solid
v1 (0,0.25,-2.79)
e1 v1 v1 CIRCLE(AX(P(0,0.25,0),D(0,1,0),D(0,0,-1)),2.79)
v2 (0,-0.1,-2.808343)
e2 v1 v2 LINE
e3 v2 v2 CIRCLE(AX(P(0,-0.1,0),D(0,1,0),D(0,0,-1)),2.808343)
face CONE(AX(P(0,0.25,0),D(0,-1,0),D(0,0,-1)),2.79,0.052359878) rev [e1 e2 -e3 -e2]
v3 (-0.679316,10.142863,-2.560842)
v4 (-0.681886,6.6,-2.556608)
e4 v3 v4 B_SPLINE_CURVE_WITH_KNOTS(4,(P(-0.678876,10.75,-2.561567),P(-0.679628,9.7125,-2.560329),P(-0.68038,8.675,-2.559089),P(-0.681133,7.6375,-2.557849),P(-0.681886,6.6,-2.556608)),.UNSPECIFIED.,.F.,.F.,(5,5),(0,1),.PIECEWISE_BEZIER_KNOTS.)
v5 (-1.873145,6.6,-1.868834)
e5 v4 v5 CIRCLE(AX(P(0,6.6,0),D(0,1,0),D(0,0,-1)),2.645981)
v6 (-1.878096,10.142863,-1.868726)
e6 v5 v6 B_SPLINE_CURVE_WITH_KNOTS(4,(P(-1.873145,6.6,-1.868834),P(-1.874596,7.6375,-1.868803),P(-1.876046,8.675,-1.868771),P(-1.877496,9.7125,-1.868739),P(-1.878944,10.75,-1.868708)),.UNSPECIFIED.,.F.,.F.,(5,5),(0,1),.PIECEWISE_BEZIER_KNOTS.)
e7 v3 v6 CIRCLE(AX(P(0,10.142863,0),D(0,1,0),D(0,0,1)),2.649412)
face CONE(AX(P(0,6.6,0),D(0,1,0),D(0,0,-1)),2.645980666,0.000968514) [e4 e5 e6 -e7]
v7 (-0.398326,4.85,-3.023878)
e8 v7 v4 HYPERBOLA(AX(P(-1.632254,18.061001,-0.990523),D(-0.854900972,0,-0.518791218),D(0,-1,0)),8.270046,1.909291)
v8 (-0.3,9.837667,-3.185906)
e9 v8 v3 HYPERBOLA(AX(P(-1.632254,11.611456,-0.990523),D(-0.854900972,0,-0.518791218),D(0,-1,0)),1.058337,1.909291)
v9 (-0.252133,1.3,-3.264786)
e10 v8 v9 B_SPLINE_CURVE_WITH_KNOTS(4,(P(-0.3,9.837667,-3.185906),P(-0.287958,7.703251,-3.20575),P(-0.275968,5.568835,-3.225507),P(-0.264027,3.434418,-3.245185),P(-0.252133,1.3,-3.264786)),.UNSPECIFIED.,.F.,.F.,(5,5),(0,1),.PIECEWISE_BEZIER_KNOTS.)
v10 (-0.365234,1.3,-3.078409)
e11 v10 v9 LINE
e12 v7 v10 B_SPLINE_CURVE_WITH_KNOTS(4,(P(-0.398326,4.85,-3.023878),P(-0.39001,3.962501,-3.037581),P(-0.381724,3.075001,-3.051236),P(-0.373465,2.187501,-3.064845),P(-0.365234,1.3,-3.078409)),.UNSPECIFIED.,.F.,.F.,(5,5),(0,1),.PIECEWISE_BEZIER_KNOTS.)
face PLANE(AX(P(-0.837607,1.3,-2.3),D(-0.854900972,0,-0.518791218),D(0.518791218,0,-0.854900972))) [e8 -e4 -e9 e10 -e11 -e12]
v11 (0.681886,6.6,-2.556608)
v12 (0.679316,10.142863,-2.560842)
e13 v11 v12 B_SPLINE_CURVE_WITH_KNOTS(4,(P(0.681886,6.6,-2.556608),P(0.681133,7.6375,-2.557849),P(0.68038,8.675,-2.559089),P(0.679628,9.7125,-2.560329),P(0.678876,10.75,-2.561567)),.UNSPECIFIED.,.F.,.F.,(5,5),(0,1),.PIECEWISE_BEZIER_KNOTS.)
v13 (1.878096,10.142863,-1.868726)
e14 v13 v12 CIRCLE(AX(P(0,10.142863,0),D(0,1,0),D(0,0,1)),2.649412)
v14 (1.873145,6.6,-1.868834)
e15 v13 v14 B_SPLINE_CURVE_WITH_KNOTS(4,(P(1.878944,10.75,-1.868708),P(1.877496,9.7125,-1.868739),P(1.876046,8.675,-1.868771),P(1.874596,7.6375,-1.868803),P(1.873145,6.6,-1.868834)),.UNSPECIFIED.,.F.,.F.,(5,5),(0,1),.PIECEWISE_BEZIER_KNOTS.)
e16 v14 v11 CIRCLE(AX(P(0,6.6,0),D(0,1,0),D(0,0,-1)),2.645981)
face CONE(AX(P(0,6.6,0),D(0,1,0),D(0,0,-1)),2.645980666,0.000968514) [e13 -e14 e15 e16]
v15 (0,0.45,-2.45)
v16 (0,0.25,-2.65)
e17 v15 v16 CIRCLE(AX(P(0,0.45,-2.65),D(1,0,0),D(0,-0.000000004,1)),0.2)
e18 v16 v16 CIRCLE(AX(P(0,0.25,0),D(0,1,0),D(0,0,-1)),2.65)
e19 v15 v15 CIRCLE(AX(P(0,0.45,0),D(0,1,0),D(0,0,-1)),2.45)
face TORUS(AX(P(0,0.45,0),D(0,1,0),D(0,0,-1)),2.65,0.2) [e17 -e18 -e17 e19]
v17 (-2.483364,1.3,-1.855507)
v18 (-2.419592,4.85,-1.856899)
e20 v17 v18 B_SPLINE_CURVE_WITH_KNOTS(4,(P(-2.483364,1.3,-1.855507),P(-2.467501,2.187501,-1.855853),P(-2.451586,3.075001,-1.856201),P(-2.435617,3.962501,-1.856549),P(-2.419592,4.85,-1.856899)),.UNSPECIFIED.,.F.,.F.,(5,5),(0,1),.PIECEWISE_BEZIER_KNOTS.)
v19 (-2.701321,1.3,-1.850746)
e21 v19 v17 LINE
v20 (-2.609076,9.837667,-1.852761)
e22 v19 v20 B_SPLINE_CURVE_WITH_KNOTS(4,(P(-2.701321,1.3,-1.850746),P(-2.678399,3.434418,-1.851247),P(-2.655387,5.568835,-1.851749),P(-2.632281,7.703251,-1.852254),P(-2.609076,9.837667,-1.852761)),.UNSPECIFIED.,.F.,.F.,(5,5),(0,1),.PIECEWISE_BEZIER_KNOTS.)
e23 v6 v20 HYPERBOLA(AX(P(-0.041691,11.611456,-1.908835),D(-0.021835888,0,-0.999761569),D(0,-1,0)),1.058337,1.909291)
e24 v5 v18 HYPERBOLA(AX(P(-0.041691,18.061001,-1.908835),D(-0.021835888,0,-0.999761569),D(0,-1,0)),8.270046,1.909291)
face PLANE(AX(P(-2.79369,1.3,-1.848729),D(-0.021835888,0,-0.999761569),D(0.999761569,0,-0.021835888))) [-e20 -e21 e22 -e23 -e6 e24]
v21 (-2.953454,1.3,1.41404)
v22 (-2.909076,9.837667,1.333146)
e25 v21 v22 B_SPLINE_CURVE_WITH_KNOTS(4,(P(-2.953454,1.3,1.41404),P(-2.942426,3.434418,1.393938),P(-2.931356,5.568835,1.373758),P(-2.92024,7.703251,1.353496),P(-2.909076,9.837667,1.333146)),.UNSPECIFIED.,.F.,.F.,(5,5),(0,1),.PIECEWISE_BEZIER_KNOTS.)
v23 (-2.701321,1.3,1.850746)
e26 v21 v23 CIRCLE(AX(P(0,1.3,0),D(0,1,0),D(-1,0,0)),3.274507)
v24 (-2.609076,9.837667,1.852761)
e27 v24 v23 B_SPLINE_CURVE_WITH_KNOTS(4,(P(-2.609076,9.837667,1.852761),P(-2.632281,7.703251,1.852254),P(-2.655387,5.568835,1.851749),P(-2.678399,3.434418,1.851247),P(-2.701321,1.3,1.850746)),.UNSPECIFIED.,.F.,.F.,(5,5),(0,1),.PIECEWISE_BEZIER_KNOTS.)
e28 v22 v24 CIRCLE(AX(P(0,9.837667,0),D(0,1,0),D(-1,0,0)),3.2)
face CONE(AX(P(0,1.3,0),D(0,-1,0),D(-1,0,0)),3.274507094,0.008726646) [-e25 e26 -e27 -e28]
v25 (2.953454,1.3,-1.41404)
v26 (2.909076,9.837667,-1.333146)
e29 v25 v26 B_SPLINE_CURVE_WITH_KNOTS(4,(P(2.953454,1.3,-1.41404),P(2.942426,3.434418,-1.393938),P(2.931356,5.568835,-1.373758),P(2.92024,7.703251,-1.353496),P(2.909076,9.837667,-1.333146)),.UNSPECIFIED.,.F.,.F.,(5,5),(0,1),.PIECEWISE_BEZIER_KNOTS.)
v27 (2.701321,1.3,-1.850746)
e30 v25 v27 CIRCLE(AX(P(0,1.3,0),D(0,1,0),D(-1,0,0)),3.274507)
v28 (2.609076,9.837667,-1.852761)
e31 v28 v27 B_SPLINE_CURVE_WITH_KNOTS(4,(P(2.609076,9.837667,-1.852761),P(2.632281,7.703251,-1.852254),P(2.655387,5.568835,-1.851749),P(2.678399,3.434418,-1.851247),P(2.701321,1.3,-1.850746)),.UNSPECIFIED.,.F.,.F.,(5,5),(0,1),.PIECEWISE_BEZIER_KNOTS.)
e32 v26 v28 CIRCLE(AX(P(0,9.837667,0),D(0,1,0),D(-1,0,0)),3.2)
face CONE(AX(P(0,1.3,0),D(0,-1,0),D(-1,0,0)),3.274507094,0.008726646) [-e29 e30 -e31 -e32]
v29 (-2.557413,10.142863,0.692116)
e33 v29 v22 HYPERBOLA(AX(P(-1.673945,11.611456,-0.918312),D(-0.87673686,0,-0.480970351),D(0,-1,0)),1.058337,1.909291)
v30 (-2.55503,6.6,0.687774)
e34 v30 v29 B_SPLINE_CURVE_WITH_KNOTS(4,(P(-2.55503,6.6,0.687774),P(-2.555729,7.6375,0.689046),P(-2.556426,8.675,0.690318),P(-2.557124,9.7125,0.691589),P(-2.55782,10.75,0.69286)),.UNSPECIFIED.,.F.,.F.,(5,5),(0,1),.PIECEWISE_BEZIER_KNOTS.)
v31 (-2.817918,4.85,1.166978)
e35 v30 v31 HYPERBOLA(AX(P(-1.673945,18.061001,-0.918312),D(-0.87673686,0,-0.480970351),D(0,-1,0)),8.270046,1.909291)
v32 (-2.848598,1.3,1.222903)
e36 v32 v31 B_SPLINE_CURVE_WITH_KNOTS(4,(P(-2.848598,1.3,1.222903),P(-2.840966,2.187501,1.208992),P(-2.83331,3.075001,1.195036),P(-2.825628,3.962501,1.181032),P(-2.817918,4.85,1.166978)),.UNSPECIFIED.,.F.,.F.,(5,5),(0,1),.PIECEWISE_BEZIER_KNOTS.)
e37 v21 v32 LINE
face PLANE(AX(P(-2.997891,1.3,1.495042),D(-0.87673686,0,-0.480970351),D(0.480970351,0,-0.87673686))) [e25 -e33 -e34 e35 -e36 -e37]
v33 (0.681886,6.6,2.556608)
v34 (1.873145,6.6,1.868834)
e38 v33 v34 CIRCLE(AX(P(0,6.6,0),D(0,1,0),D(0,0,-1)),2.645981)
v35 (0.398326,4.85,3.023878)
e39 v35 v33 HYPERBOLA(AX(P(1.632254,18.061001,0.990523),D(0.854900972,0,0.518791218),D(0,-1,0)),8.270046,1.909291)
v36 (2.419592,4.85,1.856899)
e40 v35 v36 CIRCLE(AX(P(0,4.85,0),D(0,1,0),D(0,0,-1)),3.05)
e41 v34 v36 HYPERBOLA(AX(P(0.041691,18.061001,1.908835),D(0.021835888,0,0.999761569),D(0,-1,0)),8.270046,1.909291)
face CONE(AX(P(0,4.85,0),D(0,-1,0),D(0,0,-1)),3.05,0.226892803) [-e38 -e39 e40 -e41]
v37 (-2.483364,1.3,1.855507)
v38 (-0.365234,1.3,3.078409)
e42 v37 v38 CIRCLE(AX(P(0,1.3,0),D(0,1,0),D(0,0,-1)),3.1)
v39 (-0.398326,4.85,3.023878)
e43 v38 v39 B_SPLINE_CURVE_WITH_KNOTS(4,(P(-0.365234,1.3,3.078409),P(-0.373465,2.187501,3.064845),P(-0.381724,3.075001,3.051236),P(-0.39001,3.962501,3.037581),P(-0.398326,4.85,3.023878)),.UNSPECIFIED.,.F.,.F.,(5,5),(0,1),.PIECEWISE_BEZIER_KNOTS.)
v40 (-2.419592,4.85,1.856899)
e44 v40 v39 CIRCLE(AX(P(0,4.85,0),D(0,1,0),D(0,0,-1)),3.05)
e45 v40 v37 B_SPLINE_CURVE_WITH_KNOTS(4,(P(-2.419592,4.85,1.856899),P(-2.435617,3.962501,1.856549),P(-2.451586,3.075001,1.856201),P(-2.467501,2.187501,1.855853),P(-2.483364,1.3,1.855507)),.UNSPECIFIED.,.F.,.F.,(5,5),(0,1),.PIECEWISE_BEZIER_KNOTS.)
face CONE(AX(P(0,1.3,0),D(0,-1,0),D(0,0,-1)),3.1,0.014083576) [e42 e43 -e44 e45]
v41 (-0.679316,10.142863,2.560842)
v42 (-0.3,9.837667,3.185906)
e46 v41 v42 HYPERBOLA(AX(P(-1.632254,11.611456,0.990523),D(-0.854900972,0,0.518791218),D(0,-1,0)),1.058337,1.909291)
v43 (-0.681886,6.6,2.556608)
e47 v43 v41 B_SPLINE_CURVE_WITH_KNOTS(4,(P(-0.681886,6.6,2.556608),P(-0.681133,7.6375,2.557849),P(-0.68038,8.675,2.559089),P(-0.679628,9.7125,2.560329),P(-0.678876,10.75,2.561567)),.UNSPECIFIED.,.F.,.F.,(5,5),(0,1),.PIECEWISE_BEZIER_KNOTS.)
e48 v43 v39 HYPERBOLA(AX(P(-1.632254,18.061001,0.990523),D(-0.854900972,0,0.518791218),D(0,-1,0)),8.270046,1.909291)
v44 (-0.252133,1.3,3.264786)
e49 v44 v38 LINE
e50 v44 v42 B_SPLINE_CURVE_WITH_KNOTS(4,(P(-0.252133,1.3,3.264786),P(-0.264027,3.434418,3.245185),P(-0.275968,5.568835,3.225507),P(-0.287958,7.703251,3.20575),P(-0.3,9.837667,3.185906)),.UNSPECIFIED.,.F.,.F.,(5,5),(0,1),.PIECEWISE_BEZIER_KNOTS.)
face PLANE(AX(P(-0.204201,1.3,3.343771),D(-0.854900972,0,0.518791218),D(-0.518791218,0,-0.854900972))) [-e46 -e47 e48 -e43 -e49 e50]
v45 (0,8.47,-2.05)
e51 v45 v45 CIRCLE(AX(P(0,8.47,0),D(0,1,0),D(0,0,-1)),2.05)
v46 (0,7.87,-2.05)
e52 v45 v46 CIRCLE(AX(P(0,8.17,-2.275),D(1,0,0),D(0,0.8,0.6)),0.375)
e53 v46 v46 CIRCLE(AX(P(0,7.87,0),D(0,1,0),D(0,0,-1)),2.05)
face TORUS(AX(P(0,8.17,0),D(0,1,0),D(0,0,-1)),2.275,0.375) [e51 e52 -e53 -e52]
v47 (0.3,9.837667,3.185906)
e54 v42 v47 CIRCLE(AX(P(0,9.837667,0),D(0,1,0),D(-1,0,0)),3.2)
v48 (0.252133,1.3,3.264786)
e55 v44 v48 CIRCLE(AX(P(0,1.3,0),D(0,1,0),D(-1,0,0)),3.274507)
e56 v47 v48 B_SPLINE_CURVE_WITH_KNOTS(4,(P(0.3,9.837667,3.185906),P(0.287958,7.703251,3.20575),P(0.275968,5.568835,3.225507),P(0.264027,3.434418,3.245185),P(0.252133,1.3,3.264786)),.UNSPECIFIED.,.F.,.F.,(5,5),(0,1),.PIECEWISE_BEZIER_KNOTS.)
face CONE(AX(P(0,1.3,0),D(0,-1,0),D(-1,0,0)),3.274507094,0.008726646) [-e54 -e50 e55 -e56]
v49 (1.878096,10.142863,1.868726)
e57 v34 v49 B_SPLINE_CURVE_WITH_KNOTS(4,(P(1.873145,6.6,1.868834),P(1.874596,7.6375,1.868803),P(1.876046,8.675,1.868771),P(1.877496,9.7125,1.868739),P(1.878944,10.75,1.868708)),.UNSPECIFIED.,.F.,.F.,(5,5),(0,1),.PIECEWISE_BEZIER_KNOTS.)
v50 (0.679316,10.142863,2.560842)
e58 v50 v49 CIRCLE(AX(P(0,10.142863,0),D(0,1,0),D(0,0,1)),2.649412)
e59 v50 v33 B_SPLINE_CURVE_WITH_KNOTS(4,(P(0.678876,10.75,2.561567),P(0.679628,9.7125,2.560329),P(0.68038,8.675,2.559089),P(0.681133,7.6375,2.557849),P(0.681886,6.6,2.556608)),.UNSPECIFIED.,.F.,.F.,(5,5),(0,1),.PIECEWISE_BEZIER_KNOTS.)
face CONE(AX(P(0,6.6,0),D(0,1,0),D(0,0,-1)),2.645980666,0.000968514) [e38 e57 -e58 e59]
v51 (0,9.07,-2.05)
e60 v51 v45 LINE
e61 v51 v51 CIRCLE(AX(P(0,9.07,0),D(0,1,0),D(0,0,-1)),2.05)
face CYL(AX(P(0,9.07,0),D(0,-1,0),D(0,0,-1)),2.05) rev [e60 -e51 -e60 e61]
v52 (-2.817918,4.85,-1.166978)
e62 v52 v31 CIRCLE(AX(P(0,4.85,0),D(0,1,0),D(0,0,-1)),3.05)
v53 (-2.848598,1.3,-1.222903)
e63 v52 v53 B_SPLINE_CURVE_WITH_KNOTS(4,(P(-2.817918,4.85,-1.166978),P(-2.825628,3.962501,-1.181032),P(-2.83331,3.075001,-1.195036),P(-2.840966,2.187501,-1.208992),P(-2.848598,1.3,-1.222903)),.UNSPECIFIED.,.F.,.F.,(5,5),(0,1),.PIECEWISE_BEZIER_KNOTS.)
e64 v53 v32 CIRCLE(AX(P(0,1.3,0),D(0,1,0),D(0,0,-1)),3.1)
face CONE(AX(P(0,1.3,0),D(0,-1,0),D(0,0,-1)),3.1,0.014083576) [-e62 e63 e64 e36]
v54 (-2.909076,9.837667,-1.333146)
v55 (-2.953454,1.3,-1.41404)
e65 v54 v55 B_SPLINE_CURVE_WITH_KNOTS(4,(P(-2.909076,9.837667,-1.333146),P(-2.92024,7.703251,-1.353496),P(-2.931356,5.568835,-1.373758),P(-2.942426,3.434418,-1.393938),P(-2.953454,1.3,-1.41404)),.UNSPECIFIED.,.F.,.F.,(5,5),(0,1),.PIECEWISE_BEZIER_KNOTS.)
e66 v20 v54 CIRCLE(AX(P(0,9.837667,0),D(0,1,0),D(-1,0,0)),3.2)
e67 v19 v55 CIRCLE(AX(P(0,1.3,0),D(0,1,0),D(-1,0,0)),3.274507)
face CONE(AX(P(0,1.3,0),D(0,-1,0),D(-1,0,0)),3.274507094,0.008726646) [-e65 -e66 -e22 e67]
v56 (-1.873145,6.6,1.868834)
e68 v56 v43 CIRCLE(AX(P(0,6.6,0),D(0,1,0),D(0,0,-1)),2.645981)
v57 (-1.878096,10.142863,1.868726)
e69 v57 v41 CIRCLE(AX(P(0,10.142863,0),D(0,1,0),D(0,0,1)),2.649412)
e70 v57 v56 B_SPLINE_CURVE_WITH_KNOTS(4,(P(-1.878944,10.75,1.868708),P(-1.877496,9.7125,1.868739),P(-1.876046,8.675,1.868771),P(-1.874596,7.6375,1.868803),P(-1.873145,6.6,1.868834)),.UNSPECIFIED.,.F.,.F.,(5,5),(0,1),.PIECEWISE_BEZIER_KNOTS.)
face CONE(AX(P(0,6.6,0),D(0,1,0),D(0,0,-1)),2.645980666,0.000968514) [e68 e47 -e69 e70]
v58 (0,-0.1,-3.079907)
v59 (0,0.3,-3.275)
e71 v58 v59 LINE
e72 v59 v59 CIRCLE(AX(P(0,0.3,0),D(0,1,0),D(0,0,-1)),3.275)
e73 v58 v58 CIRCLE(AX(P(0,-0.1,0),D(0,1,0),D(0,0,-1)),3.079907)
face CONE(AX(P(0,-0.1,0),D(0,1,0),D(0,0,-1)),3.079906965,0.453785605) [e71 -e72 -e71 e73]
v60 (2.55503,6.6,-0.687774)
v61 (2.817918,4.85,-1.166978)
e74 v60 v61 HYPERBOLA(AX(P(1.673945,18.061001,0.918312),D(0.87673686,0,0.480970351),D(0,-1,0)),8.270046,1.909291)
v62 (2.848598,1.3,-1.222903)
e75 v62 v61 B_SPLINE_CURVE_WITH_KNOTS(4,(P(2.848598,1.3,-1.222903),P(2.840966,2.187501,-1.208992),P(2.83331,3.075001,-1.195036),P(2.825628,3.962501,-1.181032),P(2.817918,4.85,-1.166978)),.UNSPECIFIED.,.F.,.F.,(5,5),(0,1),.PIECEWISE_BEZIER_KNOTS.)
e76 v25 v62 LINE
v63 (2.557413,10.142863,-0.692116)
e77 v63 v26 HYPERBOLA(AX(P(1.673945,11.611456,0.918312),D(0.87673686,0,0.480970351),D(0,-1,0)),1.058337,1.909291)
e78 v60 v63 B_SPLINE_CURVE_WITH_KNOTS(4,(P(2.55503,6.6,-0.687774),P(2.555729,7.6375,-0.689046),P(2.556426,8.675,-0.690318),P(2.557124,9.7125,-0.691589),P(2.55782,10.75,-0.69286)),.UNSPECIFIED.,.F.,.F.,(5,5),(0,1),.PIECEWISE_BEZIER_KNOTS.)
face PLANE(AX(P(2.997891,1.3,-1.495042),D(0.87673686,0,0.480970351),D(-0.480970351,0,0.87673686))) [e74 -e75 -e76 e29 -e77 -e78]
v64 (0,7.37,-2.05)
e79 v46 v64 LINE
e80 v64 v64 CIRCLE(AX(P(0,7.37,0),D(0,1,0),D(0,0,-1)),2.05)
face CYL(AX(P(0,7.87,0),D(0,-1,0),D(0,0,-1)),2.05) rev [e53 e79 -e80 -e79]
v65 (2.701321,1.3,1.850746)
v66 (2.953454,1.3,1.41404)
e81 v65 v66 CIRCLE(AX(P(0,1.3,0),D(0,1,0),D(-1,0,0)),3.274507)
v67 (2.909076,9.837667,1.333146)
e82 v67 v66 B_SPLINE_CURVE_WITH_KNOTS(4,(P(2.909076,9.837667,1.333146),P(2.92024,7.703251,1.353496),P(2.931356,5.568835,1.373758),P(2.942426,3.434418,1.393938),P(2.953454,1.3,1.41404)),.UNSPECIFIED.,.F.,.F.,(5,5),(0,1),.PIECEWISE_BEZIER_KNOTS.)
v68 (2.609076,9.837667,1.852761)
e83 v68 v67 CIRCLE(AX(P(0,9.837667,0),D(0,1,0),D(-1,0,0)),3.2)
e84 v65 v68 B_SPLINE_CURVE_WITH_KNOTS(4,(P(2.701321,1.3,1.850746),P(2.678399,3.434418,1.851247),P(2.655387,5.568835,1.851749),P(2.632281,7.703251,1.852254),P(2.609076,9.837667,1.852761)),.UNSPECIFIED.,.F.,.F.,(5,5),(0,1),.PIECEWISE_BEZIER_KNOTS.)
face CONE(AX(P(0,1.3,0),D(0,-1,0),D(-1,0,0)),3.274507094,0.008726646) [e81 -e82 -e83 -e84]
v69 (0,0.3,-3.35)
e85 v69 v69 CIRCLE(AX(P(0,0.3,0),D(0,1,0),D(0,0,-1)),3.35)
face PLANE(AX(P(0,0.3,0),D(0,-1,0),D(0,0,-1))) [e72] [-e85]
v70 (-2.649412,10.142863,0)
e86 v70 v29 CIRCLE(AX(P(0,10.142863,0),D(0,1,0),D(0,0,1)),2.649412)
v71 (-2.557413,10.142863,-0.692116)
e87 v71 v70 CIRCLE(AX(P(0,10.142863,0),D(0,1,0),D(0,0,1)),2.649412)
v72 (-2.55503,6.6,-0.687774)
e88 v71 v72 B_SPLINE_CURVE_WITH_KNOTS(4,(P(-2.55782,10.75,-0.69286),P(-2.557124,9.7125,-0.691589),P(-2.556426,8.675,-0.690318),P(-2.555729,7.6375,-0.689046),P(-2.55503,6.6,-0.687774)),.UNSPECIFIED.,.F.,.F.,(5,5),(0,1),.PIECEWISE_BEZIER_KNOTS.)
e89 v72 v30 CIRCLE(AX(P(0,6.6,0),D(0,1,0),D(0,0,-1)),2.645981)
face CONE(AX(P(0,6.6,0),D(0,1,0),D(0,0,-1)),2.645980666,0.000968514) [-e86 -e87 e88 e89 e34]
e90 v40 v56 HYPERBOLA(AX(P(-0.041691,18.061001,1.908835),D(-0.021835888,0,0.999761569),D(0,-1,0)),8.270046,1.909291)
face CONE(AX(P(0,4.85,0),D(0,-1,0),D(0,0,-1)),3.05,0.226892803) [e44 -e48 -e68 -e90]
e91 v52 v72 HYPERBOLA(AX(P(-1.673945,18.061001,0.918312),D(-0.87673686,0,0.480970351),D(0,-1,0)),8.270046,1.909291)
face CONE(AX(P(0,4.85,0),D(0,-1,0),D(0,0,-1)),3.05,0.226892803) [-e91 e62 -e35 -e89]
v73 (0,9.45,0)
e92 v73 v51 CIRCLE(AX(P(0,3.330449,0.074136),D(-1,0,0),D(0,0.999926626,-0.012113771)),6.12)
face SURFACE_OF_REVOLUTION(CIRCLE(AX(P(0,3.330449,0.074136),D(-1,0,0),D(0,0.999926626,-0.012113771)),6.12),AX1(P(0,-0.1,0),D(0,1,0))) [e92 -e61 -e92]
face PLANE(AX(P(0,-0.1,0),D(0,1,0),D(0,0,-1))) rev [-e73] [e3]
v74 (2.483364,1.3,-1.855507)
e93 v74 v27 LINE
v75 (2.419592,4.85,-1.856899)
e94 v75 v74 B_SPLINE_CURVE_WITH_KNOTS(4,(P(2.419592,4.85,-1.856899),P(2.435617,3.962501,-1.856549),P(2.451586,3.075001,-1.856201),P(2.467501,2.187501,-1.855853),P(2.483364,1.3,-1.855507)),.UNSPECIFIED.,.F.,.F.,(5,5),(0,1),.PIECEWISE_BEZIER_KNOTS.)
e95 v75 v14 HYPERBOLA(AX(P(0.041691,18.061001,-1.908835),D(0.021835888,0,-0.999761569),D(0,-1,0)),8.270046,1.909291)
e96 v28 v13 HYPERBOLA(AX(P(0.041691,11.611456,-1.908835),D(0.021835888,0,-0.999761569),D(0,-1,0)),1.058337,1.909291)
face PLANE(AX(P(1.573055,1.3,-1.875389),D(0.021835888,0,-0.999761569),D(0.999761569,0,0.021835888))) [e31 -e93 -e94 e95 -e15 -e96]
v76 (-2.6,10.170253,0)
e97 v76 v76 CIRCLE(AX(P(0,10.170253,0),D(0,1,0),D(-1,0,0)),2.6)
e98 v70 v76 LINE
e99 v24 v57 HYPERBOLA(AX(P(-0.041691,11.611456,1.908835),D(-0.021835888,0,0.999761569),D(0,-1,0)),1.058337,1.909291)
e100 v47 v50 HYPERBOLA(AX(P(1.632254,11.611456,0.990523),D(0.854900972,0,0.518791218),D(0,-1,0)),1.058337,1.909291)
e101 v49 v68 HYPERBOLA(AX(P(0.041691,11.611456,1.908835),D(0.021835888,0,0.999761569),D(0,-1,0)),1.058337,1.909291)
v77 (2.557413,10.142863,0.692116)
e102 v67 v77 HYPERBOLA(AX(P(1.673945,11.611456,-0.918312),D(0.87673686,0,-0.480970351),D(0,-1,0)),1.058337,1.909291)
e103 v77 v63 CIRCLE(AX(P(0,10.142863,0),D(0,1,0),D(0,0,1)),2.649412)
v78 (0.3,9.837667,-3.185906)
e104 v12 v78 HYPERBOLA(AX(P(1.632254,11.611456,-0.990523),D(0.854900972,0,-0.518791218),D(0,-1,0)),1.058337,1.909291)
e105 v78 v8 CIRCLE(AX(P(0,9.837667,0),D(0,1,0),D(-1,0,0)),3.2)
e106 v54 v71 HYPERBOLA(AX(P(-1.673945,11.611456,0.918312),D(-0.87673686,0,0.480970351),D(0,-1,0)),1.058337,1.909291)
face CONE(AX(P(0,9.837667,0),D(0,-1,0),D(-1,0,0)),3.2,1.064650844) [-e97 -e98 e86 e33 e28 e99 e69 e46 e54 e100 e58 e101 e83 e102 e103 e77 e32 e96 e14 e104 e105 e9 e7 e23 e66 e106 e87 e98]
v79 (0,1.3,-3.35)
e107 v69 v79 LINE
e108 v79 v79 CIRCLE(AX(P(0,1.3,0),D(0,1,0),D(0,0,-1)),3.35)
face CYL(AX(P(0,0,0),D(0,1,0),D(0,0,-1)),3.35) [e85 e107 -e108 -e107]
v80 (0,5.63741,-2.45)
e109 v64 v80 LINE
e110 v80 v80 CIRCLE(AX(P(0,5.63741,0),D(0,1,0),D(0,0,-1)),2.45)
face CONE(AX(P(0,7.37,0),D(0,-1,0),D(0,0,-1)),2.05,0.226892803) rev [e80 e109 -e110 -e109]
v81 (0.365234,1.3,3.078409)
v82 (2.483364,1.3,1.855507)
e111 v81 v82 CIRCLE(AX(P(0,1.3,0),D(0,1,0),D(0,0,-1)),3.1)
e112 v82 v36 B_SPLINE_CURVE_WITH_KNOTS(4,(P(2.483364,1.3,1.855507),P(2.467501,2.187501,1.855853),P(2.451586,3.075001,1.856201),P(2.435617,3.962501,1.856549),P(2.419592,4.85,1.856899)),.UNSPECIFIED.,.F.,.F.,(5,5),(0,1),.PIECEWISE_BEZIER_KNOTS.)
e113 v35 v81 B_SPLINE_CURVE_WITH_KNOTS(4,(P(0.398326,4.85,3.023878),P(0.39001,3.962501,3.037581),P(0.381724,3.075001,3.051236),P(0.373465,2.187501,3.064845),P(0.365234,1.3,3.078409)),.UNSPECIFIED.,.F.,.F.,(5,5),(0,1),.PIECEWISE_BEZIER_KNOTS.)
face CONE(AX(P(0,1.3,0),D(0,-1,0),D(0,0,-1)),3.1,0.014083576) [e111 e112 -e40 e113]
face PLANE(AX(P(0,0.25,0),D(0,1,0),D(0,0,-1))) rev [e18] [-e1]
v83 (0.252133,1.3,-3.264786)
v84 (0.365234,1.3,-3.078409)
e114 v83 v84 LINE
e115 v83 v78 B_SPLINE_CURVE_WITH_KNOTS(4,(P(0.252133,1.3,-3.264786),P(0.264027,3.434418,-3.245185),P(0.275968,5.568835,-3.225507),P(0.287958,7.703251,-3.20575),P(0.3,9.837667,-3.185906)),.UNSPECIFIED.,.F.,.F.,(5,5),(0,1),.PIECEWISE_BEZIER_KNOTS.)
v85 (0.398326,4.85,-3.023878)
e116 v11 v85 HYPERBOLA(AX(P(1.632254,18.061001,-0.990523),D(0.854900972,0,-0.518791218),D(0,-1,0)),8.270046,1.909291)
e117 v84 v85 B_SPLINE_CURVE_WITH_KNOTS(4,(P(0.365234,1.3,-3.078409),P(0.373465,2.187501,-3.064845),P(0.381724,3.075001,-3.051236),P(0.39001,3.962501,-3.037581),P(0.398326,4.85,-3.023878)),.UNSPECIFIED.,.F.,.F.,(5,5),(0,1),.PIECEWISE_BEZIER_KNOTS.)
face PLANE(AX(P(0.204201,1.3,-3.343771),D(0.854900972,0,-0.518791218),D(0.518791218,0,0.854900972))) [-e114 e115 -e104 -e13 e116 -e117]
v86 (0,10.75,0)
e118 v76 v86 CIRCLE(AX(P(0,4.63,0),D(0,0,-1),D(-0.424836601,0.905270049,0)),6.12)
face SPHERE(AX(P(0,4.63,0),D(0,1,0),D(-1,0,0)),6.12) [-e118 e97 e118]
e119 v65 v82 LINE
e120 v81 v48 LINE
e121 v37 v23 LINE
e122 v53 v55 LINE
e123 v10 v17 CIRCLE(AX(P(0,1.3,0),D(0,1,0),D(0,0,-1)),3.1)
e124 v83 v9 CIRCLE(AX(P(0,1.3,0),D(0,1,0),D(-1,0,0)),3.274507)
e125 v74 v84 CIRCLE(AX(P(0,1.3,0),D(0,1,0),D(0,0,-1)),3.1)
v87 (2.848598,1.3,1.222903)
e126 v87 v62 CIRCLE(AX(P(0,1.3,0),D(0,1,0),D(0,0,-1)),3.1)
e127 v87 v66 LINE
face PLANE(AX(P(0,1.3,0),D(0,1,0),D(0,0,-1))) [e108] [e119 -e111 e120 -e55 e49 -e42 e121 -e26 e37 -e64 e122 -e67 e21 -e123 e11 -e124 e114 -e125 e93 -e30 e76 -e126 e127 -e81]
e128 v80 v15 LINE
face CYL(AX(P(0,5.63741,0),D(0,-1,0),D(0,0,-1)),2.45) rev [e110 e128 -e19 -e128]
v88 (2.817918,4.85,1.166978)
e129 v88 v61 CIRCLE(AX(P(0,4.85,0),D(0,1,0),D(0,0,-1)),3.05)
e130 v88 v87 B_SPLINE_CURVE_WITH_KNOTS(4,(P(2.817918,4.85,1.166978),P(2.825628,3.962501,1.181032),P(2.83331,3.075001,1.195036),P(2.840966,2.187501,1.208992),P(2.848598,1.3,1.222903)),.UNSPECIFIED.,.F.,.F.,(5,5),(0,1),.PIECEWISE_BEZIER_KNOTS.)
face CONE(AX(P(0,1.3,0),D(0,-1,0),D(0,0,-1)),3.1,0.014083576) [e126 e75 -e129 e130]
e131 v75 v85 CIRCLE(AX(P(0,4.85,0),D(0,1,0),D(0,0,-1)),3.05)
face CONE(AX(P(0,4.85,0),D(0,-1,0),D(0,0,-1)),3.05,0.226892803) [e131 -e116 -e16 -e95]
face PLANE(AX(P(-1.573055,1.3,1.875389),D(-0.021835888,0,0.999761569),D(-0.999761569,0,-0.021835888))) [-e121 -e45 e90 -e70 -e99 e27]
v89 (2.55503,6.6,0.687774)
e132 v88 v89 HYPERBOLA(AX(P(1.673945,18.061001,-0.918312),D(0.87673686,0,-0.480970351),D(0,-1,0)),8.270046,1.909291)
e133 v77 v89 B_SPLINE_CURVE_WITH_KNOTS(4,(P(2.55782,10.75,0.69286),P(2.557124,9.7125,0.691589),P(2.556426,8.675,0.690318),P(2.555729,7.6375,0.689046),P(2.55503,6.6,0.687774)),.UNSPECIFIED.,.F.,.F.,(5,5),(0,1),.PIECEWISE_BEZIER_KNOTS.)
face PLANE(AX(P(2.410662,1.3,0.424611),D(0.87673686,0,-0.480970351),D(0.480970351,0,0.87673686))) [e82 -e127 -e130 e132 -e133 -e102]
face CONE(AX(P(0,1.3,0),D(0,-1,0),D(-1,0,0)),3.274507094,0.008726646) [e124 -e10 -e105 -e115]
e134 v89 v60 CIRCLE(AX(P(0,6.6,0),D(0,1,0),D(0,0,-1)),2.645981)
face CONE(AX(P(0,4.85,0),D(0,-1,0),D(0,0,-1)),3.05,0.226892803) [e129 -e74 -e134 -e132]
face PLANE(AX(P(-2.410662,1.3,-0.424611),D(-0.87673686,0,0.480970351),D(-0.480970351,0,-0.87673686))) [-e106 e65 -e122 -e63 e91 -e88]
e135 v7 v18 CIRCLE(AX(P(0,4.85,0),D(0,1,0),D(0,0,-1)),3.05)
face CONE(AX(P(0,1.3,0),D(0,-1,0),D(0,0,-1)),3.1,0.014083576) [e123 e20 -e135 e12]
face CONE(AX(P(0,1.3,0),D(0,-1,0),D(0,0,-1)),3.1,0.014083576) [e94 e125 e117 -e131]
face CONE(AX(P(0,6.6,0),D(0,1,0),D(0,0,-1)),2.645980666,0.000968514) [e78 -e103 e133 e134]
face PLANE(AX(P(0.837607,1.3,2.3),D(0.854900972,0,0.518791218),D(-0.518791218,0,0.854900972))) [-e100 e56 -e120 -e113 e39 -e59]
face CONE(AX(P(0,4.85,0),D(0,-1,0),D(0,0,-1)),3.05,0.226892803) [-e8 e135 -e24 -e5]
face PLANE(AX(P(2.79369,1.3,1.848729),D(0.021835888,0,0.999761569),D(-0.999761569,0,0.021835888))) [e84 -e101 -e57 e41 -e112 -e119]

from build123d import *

# Parameters (mm, degrees)
EXTRUS_O1_REACH       = 12.571
CIRPATTERN1_COUNT     = 6
FILETE1_R             = 0.3
ESBO_O24_R            = 3.35
CORTE_EXTRUS_O1_DEPTH = 0.3


with BuildPart() as part:
    # Esboço1 → Revolução1 (revolve)
    with BuildSketch(Plane.XY, mode=Mode.PRIVATE) as revolu_o1_sk:
        Polygon((0, 0), (-3.35, 0), (-3.35, 1.3), (-3.1, 1.3), (-3.05, 4.85), (-2.645980666, 6.6), (-2.65, 10.75), (0, 10.75), align=None)
    revolve(revolu_o1_sk.sketch.rotate(Axis((0, 0, 0), (0, 1, 0)), 270), axis=Axis((0, 0, 0), (0, 1, 0)))

    # Extrusão1: up to this face of the body (flat: up to its plane)
    extrus_o1_end = Plane(part.part.faces().sort_by_distance((0, 10.75, 0))[0])
    # Esboço2 → Extrusão1 (add, up to the picked face)
    with BuildSketch(Plane.XZ.offset(-1.3), mode=Mode.PRIVATE) as extrus_o1_sk1:
        with BuildLine():
            Line((-0.837606703, -2.3), (-0.204201147, -3.34377061))
            ThreePointArc((-0.204201147, -3.34377061), (0, -3.35), (0.204201147, -3.34377061))
            Line((0.204201147, -3.34377061), (0.837606703, -2.3))
            Line((0.837606703, -2.3), (-0.837606703, -2.3))
        make_face()
    extrus_o1_tool1 = split(extrude(extrus_o1_sk1.sketch, amount=-EXTRUS_O1_REACH, mode=Mode.PRIVATE), bisect_by=extrus_o1_end, keep=Keep.BOTH, mode=Mode.PRIVATE)
    add(extrus_o1_tool1.solids().sort_by(Axis((0, 1.3, -2.7171), (0, 1, 0)))[0])

    # CirPattern1: part ×6 about axis
    cirpattern1_axis = Axis((0, 0, 0), (0, 1, 0))


with BuildPart() as part_1:
    add(part.part)
    for i in range(1, CIRPATTERN1_COUNT):
        add(part.part.rotate(cirpattern1_axis, i * 360 / CIRPATTERN1_COUNT))

    # Esboço3 → Corte-Revolução5 (revolve, cut)
    with BuildSketch(Plane.XY):
        with BuildLine():
            Line((-3.2, 9.837667271), (-2.6, 10.170252702))
            ThreePointArc((-2.6, 10.170252702), (-1.331925949, 10.603305054), (0, 10.75))
            Line((0, 10.75), (0, 11.25))
            Line((0, 11.25), (-4, 11.25))
            Line((-4, 11.25), (-4, 1.3))
            Line((-4, 1.3), (-3.274507094, 1.3))
            Line((-3.274507094, 1.3), (-3.2, 9.837667271))
        make_face()
    revolve(axis=Axis((0, 0, 0), (0, 1, 0)), mode=Mode.SUBTRACT)

    # Filete1
    filete1_edges = [part_1.edges().sort_by_distance(p)[0] for p in [
        (0, 0, 3.35),
    ]]
    fillet(filete1_edges, radius=FILETE1_R)

    # Esboço24 → Corte-extrusão1 (cut)
    with BuildSketch(Plane.XZ):
        with Locations(Location((0, 0, 0), (0, 0, 270))):
            Circle(ESBO_O24_R)
    extrude(amount=-CORTE_EXTRUS_O1_DEPTH, mode=Mode.SUBTRACT)

    # Esboço22 → Revolução3 (revolve)
    with BuildSketch(Plane.XY, mode=Mode.PRIVATE) as revolu_o3_sk:
        Polygon((-0.5, 0.3), (-0.5, -0.1), (-3.079906965, -0.1), (-3.275, 0.3), align=None)
    revolve(revolu_o3_sk.sketch.rotate(Axis((0, 0, 0), (0, 1, 0)), 270), axis=Axis((0, 0, 0), (0, 1, 0)))

    # Esboço8 → Corte-Revolução6 (revolve, cut)
    with BuildSketch(Plane.XY, mode=Mode.PRIVATE) as corte_revolu_o6_sk:
        with BuildLine():
            Line((-2.808342723, -0.1), (0, -0.1))
            Line((0, -0.1), (0, 9.45))
            ThreePointArc((0, 9.45), (-1.041301106, 9.347940177), (-2.05, 9.07))
            Line((-2.05, 9.07), (-2.05, 8.47))
            ThreePointArc((-2.05, 8.47), (-1.9, 8.17), (-2.05, 7.87))
            Line((-2.05, 7.87), (-2.05, 7.37))
            Line((-2.05, 7.37), (-2.45, 5.63740965))
            Line((-2.45, 5.63740965), (-2.45, 0.45))
            ThreePointArc((-2.45, 0.45), (-2.508578644, 0.308578644), (-2.65, 0.25))
            Line((-2.65, 0.25), (-2.79, 0.25))
            Line((-2.79, 0.25), (-2.808342723, -0.1))
        make_face()
    revolve(corte_revolu_o6_sk.sketch.rotate(Axis((0, -0.1, 0), (0, 1, 0)), 270), axis=Axis((0, -0.1, 0), (0, 1, 0)), mode=Mode.SUBTRACT)


solid = part_1.part
